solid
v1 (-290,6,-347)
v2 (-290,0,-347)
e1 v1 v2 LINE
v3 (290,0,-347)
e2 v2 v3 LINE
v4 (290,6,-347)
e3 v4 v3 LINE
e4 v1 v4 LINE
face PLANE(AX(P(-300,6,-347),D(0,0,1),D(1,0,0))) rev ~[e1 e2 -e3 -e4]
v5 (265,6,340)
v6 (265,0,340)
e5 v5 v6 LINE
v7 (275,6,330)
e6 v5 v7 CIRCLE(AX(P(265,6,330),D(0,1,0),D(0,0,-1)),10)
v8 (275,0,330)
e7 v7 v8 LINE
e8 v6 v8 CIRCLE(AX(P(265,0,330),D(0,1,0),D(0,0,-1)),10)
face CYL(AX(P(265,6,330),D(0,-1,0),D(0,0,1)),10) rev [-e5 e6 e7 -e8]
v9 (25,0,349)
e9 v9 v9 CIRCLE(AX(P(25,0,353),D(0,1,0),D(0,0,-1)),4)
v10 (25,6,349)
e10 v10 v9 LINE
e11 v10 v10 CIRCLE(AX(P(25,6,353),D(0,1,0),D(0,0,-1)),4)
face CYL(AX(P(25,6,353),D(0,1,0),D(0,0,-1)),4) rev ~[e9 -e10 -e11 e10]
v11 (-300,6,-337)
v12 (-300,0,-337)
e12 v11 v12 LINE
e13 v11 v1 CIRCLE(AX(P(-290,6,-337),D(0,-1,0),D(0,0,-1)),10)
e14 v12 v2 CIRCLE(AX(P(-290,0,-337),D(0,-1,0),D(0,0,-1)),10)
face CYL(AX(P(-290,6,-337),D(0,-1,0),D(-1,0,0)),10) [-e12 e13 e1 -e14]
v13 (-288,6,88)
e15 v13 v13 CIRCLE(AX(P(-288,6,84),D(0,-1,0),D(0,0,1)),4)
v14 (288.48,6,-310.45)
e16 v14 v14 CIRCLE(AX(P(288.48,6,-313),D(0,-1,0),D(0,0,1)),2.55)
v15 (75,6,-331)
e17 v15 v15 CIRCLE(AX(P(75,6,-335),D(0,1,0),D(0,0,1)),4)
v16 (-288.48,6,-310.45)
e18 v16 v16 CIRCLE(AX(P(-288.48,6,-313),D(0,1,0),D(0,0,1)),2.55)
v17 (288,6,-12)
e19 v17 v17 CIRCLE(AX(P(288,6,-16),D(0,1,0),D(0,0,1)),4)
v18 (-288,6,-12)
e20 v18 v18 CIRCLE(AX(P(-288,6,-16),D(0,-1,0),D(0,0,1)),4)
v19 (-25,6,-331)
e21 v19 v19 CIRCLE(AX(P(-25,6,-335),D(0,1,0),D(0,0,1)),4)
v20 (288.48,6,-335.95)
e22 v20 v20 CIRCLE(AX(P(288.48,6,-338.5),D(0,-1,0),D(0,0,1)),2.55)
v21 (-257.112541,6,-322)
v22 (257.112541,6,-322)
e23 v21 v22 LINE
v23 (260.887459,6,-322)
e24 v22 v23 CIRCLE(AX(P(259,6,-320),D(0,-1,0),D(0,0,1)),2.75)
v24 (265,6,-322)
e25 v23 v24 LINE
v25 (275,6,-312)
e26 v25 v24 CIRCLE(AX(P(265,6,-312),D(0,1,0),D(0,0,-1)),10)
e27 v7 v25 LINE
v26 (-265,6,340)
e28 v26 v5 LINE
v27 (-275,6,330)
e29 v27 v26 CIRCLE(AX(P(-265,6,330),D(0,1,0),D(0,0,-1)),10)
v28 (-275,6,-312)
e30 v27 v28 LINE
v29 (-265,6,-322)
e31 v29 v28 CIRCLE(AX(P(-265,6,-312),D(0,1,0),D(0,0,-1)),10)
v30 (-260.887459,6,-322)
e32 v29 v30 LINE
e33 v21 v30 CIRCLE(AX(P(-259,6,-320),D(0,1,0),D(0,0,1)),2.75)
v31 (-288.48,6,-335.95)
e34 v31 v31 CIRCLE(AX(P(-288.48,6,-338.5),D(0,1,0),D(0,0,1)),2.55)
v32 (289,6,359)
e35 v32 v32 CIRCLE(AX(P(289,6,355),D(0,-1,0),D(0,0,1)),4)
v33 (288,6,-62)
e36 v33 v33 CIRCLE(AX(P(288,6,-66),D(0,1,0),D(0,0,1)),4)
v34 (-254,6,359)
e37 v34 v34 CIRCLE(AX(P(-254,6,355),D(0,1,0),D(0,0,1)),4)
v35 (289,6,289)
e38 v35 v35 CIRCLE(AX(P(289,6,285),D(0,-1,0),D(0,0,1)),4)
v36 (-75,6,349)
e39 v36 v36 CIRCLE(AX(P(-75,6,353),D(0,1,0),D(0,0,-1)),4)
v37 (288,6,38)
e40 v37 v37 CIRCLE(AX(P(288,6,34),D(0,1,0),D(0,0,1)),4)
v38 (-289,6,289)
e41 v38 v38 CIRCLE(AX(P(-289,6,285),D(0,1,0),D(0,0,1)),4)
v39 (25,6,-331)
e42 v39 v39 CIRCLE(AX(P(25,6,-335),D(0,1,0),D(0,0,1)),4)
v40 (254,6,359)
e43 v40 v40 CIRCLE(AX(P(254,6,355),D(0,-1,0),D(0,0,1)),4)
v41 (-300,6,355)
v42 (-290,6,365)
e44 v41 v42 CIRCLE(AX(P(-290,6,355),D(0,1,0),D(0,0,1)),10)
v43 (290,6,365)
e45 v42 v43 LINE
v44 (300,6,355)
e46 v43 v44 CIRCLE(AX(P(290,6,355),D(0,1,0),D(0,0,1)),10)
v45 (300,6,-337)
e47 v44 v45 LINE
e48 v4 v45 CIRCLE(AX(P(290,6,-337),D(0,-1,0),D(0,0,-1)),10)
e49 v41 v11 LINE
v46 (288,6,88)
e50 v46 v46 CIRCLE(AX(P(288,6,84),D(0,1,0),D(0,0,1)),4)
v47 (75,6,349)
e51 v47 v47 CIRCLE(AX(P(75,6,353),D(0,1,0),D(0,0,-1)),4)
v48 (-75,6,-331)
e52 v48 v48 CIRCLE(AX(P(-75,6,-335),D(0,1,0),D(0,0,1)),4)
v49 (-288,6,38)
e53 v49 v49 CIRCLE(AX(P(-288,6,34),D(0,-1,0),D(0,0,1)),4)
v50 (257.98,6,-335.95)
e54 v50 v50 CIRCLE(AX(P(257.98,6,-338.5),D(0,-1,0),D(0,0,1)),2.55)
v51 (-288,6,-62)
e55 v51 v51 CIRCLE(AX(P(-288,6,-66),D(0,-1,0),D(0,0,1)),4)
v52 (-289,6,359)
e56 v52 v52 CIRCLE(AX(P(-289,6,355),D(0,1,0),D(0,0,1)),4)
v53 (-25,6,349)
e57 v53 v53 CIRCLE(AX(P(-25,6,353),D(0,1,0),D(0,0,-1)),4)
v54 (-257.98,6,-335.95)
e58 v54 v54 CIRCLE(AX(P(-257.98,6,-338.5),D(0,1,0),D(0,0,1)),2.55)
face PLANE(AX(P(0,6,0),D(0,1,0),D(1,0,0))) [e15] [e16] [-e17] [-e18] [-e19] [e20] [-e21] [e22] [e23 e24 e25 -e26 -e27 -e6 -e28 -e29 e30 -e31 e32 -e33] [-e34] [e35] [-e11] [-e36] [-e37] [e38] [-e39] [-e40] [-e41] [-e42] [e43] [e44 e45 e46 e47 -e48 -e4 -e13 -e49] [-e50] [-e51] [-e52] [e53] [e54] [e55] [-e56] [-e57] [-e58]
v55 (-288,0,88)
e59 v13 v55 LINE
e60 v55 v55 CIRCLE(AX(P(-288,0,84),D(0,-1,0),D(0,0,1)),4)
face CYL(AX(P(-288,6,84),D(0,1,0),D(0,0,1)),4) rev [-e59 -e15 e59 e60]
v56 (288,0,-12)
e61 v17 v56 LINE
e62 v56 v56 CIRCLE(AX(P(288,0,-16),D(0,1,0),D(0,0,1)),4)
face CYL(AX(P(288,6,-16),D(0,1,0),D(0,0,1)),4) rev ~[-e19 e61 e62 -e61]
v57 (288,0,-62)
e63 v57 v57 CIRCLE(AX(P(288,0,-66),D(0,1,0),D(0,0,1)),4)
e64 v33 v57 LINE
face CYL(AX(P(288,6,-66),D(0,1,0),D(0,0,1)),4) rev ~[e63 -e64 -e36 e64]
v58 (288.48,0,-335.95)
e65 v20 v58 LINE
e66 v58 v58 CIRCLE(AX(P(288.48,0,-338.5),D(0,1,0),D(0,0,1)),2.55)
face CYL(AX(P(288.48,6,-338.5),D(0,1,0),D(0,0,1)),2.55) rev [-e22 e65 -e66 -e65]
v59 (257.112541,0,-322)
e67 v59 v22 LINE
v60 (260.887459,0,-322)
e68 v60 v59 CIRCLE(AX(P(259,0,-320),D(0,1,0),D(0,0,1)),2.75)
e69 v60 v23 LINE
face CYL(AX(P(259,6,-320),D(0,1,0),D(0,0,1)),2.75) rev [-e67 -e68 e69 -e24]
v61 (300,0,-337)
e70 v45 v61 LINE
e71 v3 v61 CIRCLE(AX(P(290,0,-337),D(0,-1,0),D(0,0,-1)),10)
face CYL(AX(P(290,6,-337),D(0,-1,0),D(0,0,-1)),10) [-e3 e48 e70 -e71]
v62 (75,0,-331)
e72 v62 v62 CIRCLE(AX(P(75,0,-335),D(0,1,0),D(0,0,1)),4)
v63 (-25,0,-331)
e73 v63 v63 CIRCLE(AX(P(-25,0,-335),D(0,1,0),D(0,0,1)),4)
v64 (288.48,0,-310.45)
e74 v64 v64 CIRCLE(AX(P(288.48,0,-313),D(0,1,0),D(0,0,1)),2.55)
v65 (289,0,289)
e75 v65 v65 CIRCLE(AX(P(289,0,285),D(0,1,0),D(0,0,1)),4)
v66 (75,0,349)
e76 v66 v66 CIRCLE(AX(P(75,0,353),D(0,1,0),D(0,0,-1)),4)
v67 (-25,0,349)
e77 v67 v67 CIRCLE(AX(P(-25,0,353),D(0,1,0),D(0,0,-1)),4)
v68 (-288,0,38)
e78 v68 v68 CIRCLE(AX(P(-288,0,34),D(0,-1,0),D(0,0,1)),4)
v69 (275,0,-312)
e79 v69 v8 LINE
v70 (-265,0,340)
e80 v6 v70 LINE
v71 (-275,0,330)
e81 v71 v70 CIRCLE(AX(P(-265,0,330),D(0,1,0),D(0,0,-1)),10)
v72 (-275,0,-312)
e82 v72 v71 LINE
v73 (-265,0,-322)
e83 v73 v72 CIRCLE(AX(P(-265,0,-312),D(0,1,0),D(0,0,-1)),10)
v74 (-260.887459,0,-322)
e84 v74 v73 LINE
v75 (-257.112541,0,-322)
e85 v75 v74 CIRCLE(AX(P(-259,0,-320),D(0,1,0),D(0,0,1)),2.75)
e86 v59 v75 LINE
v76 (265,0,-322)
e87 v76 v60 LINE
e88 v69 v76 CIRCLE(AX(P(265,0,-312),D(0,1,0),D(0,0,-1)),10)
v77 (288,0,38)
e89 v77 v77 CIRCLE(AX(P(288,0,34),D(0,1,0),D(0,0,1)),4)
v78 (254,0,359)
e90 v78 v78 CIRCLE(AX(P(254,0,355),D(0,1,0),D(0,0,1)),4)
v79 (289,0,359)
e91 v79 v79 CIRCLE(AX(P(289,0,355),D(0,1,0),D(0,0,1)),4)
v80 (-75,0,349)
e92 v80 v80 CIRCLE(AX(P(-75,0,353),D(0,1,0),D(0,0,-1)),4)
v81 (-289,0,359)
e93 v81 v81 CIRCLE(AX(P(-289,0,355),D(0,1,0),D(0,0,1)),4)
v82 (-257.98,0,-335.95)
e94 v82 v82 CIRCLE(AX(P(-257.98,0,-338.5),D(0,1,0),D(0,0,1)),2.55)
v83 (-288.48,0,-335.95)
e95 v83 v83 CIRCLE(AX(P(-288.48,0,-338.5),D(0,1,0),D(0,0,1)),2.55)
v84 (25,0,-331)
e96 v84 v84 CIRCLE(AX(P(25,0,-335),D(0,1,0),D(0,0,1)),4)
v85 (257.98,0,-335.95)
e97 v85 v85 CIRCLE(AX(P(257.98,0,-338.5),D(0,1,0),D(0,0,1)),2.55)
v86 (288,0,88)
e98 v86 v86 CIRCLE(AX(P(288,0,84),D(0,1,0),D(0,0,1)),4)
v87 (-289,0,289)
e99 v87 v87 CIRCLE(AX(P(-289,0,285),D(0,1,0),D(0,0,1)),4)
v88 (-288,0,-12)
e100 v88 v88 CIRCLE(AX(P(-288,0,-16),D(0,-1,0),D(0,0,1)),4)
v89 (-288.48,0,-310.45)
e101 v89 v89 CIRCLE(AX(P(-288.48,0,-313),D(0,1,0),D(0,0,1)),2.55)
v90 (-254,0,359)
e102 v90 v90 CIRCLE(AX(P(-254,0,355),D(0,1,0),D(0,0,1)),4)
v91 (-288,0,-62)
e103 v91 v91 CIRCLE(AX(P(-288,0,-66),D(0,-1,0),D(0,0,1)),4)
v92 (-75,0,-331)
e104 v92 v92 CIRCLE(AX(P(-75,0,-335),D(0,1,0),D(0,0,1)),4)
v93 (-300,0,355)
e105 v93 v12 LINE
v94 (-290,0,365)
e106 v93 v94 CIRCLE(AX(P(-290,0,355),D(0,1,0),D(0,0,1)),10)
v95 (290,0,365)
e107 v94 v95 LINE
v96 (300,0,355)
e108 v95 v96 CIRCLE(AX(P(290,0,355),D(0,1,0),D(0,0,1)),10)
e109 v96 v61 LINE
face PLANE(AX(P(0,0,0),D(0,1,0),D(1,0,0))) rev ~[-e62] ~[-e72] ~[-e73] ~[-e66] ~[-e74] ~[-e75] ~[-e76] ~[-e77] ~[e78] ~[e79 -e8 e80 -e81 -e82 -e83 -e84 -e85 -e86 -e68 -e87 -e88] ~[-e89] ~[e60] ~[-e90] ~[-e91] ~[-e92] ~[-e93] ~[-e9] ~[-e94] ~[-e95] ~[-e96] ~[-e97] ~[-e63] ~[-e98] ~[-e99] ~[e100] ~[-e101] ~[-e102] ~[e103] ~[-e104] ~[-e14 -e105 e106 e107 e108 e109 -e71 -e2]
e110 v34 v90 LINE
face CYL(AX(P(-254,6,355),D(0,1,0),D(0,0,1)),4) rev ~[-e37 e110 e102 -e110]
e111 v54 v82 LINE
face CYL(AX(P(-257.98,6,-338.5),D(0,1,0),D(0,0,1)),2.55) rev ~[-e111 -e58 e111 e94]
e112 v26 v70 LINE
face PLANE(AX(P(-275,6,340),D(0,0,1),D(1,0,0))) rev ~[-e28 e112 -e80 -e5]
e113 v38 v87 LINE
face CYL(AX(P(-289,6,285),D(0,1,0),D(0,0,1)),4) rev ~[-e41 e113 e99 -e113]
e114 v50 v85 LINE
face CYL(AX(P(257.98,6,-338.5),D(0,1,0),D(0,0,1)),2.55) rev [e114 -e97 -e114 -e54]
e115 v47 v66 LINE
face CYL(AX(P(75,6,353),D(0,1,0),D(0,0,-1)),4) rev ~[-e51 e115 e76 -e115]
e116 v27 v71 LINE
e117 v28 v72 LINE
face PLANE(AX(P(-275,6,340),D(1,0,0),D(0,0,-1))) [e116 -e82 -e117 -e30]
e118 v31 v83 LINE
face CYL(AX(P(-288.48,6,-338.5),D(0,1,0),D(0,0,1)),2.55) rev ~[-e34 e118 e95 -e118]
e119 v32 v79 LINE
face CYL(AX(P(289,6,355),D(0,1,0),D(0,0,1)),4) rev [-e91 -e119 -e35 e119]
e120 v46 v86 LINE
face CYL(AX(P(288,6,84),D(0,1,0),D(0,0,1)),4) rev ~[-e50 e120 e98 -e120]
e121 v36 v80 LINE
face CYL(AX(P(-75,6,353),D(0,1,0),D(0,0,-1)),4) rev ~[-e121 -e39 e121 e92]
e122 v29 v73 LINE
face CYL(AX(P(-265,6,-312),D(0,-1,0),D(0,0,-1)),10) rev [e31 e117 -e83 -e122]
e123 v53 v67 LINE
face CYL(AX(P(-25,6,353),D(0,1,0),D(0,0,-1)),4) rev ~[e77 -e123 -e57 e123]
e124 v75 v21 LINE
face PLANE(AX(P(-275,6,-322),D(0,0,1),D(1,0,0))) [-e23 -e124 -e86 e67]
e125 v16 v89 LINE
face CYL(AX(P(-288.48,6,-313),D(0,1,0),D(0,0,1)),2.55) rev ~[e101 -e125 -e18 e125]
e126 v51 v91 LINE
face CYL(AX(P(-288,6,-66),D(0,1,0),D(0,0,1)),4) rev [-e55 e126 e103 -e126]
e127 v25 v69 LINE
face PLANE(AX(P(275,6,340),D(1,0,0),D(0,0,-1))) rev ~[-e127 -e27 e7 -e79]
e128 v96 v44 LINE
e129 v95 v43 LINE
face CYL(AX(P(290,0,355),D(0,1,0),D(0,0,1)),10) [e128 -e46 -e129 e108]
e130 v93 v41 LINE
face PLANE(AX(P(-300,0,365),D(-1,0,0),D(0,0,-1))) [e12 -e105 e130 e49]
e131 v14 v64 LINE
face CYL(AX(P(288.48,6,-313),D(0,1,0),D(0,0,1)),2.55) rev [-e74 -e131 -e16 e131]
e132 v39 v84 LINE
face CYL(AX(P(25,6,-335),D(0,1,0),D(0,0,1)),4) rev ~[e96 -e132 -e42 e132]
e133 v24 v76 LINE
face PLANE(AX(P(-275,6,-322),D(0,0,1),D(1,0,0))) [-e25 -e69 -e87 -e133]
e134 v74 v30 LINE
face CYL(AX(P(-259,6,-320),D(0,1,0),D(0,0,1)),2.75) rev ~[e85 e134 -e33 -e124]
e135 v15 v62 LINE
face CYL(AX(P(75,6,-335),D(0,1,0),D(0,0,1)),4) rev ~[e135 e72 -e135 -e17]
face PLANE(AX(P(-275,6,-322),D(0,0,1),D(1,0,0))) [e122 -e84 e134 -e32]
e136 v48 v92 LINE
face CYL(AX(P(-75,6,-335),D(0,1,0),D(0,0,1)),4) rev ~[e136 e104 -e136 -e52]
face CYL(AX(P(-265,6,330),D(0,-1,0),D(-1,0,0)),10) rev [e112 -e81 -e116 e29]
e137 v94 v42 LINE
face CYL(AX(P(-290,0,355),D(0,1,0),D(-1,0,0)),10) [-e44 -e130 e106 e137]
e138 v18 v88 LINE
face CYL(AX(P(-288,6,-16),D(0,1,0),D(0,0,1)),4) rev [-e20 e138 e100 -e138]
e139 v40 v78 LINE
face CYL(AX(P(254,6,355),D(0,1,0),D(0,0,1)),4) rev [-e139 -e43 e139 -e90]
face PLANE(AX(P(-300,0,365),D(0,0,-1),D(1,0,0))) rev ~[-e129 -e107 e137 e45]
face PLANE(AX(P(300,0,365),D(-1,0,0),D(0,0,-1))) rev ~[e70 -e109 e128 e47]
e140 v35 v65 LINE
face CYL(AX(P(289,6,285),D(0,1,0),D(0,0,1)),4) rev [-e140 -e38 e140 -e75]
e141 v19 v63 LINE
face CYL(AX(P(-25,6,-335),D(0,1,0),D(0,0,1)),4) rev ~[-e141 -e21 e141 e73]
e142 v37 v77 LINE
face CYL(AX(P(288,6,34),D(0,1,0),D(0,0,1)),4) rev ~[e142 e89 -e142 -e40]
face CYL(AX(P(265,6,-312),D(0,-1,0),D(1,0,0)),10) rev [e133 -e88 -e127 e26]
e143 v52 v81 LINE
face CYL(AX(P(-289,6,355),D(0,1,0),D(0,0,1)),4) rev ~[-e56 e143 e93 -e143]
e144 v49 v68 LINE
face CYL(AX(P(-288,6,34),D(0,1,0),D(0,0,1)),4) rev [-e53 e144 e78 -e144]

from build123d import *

# Parameters (mm, degrees)
SKETCH1_W                = 600
SKETCH1_H                = 730
BOSS_EXTRUDE1_DEPTH      = 6
SKETCH2_R                = 2.75
CUT_EXTRUDE1_DEPTH       = 473.505026428
LPATTERN1_COUNT          = 25
LPATTERN1_PITCH          = 25
MIRROR2_COPY_1_SKETCH_R  = 2.75
MIRROR2_COPY_1_DEPTH     = 473.505026428
MIRROR2_COPY_2_SKETCH_R  = 2.75
MIRROR2_COPY_2_DEPTH     = 473.505026428
MIRROR2_COPY_3_SKETCH_R  = 2.75
MIRROR2_COPY_3_DEPTH     = 473.505026428
MIRROR2_COPY_4_SKETCH_R  = 2.75
MIRROR2_COPY_4_DEPTH     = 473.505026428
MIRROR2_COPY_5_SKETCH_R  = 2.75
MIRROR2_COPY_5_DEPTH     = 473.505026428
MIRROR2_COPY_6_SKETCH_R  = 2.75
MIRROR2_COPY_6_DEPTH     = 473.505026428
MIRROR2_COPY_7_SKETCH_R  = 2.75
MIRROR2_COPY_7_DEPTH     = 473.505026428
MIRROR2_COPY_8_SKETCH_R  = 2.75
MIRROR2_COPY_8_DEPTH     = 473.505026428
MIRROR2_COPY_9_SKETCH_R  = 2.75
MIRROR2_COPY_9_DEPTH     = 473.505026428
MIRROR2_COPY_10_SKETCH_R = 2.75
MIRROR2_COPY_10_DEPTH    = 473.505026428
MIRROR2_COPY_11_SKETCH_R = 2.75
MIRROR2_COPY_11_DEPTH    = 473.505026428
MIRROR2_COPY_12_SKETCH_R = 2.75
MIRROR2_COPY_12_DEPTH    = 473.505026428
MIRROR2_COPY_13_SKETCH_R = 2.75
MIRROR2_COPY_13_DEPTH    = 473.505026428
MIRROR2_COPY_14_SKETCH_R = 2.75
MIRROR2_COPY_14_DEPTH    = 473.505026428
MIRROR2_COPY_15_SKETCH_R = 2.75
MIRROR2_COPY_15_DEPTH    = 473.505026428
MIRROR2_COPY_16_SKETCH_R = 2.75
MIRROR2_COPY_16_DEPTH    = 473.505026428
MIRROR2_COPY_17_SKETCH_R = 2.75
MIRROR2_COPY_17_DEPTH    = 473.505026428
MIRROR2_COPY_18_SKETCH_R = 2.75
MIRROR2_COPY_18_DEPTH    = 473.505026428
MIRROR2_COPY_19_SKETCH_R = 2.75
MIRROR2_COPY_19_DEPTH    = 473.505026428
MIRROR2_COPY_20_SKETCH_R = 2.75
MIRROR2_COPY_20_DEPTH    = 473.505026428
MIRROR2_COPY_21_SKETCH_R = 2.75
MIRROR2_COPY_21_DEPTH    = 473.505026428
MIRROR2_COPY_22_SKETCH_R = 2.75
MIRROR2_COPY_22_DEPTH    = 473.505026428
MIRROR2_COPY_23_SKETCH_R = 2.75
MIRROR2_COPY_23_DEPTH    = 473.505026428
MIRROR2_COPY_24_SKETCH_R = 2.75
MIRROR2_COPY_24_DEPTH    = 473.505026428
SKETCH3_R                = 4
CUT_EXTRUDE2_DEPTH       = 13
SKETCH5_R                = 2.55
CUT_EXTRUDE4_DEPTH       = 473.505026428
SKETCH6_W                = 600
SKETCH6_H                = 18
CUT_EXTRUDE5_DEPTH       = 6
CUT_EXTRUDE6_REACH       = 474.505
SKETCH7_R                = 4
CUT_EXTRUDE7_REACH       = 474.505
SKETCH8_R                = 4
CUT_EXTRUDE8_REACH       = 474.505
SKETCH9_W                = 550
SKETCH9_H                = 662
FILLET2_R                = 10


with BuildPart() as part:
    # Sketch1 → Boss-Extrude1 (new body)
    with BuildSketch(Plane(origin=(0, 0, 0), x_dir=(1, 0, 0), z_dir=(0, 1, 0))):
        Rectangle(SKETCH1_W, SKETCH1_H)
    extrude(amount=BOSS_EXTRUDE1_DEPTH)

    # Sketch2 → Cut-Extrude1 (cut, through all)
    with BuildSketch(Plane(origin=(0, 6, 0), x_dir=(1, 0, 0), z_dir=(0, 1, 0))):
        with Locations(Location((-259, 320, 0), (0, 0, 270))):
            Circle(SKETCH2_R)
    cut_extrude1 = extrude(amount=-CUT_EXTRUDE1_DEPTH, mode=Mode.SUBTRACT)

    # LPattern1: Cut-Extrude1 ×25
    with Locations(*[(0, 0, i * LPATTERN1_PITCH) for i in range(1, LPATTERN1_COUNT)]):
        add(cut_extrude1, mode=Mode.SUBTRACT)

    # Mirror2: Cut-Extrude1 across plane
    add(cut_extrude1.mirror(Plane(origin=(0, 0, 0), x_dir=(0, 0, 1), z_dir=(1, 0, 0))), mode=Mode.SUBTRACT)

    # Mirror2 copy 1 sketch → Mirror2 copy 1 (cut, through all)
    with BuildSketch(Plane(origin=(0, 6, 25), x_dir=(-1, 0, 0), z_dir=(0, 1, 0))):
        with Locations((-259, -320)):
            Circle(MIRROR2_COPY_1_SKETCH_R)
    extrude(amount=-MIRROR2_COPY_1_DEPTH, mode=Mode.SUBTRACT)

    # Mirror2 copy 2 sketch → Mirror2 copy 2 (cut, through all)
    with BuildSketch(Plane(origin=(0, 6, 50), x_dir=(-1, 0, 0), z_dir=(0, 1, 0))):
        with Locations((-259, -320)):
            Circle(MIRROR2_COPY_2_SKETCH_R)
    extrude(amount=-MIRROR2_COPY_2_DEPTH, mode=Mode.SUBTRACT)

    # Mirror2 copy 3 sketch → Mirror2 copy 3 (cut, through all)
    with BuildSketch(Plane(origin=(0, 6, 75), x_dir=(-1, 0, 0), z_dir=(0, 1, 0))):
        with Locations((-259, -320)):
            Circle(MIRROR2_COPY_3_SKETCH_R)
    extrude(amount=-MIRROR2_COPY_3_DEPTH, mode=Mode.SUBTRACT)

    # Mirror2 copy 4 sketch → Mirror2 copy 4 (cut, through all)
    with BuildSketch(Plane(origin=(0, 6, 100), x_dir=(-1, 0, 0), z_dir=(0, 1, 0))):
        with Locations((-259, -320)):
            Circle(MIRROR2_COPY_4_SKETCH_R)
    extrude(amount=-MIRROR2_COPY_4_DEPTH, mode=Mode.SUBTRACT)

    # Mirror2 copy 5 sketch → Mirror2 copy 5 (cut, through all)
    with BuildSketch(Plane(origin=(0, 6, 125), x_dir=(-1, 0, 0), z_dir=(0, 1, 0))):
        with Locations((-259, -320)):
            Circle(MIRROR2_COPY_5_SKETCH_R)
    extrude(amount=-MIRROR2_COPY_5_DEPTH, mode=Mode.SUBTRACT)

    # Mirror2 copy 6 sketch → Mirror2 copy 6 (cut, through all)
    with BuildSketch(Plane(origin=(0, 6, 150), x_dir=(-1, 0, 0), z_dir=(0, 1, 0))):
        with Locations((-259, -320)):
            Circle(MIRROR2_COPY_6_SKETCH_R)
    extrude(amount=-MIRROR2_COPY_6_DEPTH, mode=Mode.SUBTRACT)

    # Mirror2 copy 7 sketch → Mirror2 copy 7 (cut, through all)
    with BuildSketch(Plane(origin=(0, 6, 175), x_dir=(-1, 0, 0), z_dir=(0, 1, 0))):
        with Locations((-259, -320)):
            Circle(MIRROR2_COPY_7_SKETCH_R)
    extrude(amount=-MIRROR2_COPY_7_DEPTH, mode=Mode.SUBTRACT)

    # Mirror2 copy 8 sketch → Mirror2 copy 8 (cut, through all)
    with BuildSketch(Plane(origin=(0, 6, 200), x_dir=(-1, 0, 0), z_dir=(0, 1, 0))):
        with Locations((-259, -320)):
            Circle(MIRROR2_COPY_8_SKETCH_R)
    extrude(amount=-MIRROR2_COPY_8_DEPTH, mode=Mode.SUBTRACT)

    # Mirror2 copy 9 sketch → Mirror2 copy 9 (cut, through all)
    with BuildSketch(Plane(origin=(0, 6, 225), x_dir=(-1, 0, 0), z_dir=(0, 1, 0))):
        with Locations((-259, -320)):
            Circle(MIRROR2_COPY_9_SKETCH_R)
    extrude(amount=-MIRROR2_COPY_9_DEPTH, mode=Mode.SUBTRACT)

    # Mirror2 copy 10 sketch → Mirror2 copy 10 (cut, through all)
    with BuildSketch(Plane(origin=(0, 6, 250), x_dir=(-1, 0, 0), z_dir=(0, 1, 0))):
        with Locations((-259, -320)):
            Circle(MIRROR2_COPY_10_SKETCH_R)
    extrude(amount=-MIRROR2_COPY_10_DEPTH, mode=Mode.SUBTRACT)

    # Mirror2 copy 11 sketch → Mirror2 copy 11 (cut, through all)
    with BuildSketch(Plane(origin=(0, 6, 275), x_dir=(-1, 0, 0), z_dir=(0, 1, 0))):
        with Locations((-259, -320)):
            Circle(MIRROR2_COPY_11_SKETCH_R)
    extrude(amount=-MIRROR2_COPY_11_DEPTH, mode=Mode.SUBTRACT)

    # Mirror2 copy 12 sketch → Mirror2 copy 12 (cut, through all)
    with BuildSketch(Plane(origin=(0, 6, 300), x_dir=(-1, 0, 0), z_dir=(0, 1, 0))):
        with Locations((-259, -320)):
            Circle(MIRROR2_COPY_12_SKETCH_R)
    extrude(amount=-MIRROR2_COPY_12_DEPTH, mode=Mode.SUBTRACT)

    # Mirror2 copy 13 sketch → Mirror2 copy 13 (cut, through all)
    with BuildSketch(Plane(origin=(0, 6, 325), x_dir=(-1, 0, 0), z_dir=(0, 1, 0))):
        with Locations((-259, -320)):
            Circle(MIRROR2_COPY_13_SKETCH_R)
    extrude(amount=-MIRROR2_COPY_13_DEPTH, mode=Mode.SUBTRACT)

    # Mirror2 copy 14 sketch → Mirror2 copy 14 (cut, through all)
    with BuildSketch(Plane(origin=(0, 6, 350), x_dir=(-1, 0, 0), z_dir=(0, 1, 0))):
        with Locations((-259, -320)):
            Circle(MIRROR2_COPY_14_SKETCH_R)
    extrude(amount=-MIRROR2_COPY_14_DEPTH, mode=Mode.SUBTRACT)

    # Mirror2 copy 15 sketch → Mirror2 copy 15 (cut, through all)
    with BuildSketch(Plane(origin=(0, 6, 375), x_dir=(-1, 0, 0), z_dir=(0, 1, 0))):
        with Locations((-259, -320)):
            Circle(MIRROR2_COPY_15_SKETCH_R)
    extrude(amount=-MIRROR2_COPY_15_DEPTH, mode=Mode.SUBTRACT)

    # Mirror2 copy 16 sketch → Mirror2 copy 16 (cut, through all)
    with BuildSketch(Plane(origin=(0, 6, 400), x_dir=(-1, 0, 0), z_dir=(0, 1, 0))):
        with Locations((-259, -320)):
            Circle(MIRROR2_COPY_16_SKETCH_R)
    extrude(amount=-MIRROR2_COPY_16_DEPTH, mode=Mode.SUBTRACT)

    # Mirror2 copy 17 sketch → Mirror2 copy 17 (cut, through all)
    with BuildSketch(Plane(origin=(0, 6, 425), x_dir=(-1, 0, 0), z_dir=(0, 1, 0))):
        with Locations((-259, -320)):
            Circle(MIRROR2_COPY_17_SKETCH_R)
    extrude(amount=-MIRROR2_COPY_17_DEPTH, mode=Mode.SUBTRACT)

    # Mirror2 copy 18 sketch → Mirror2 copy 18 (cut, through all)
    with BuildSketch(Plane(origin=(0, 6, 450), x_dir=(-1, 0, 0), z_dir=(0, 1, 0))):
        with Locations((-259, -320)):
            Circle(MIRROR2_COPY_18_SKETCH_R)
    extrude(amount=-MIRROR2_COPY_18_DEPTH, mode=Mode.SUBTRACT)

    # Mirror2 copy 19 sketch → Mirror2 copy 19 (cut, through all)
    with BuildSketch(Plane(origin=(0, 6, 475), x_dir=(-1, 0, 0), z_dir=(0, 1, 0))):
        with Locations((-259, -320)):
            Circle(MIRROR2_COPY_19_SKETCH_R)
    extrude(amount=-MIRROR2_COPY_19_DEPTH, mode=Mode.SUBTRACT)

    # Mirror2 copy 20 sketch → Mirror2 copy 20 (cut, through all)
    with BuildSketch(Plane(origin=(0, 6, 500), x_dir=(-1, 0, 0), z_dir=(0, 1, 0))):
        with Locations((-259, -320)):
            Circle(MIRROR2_COPY_20_SKETCH_R)
    extrude(amount=-MIRROR2_COPY_20_DEPTH, mode=Mode.SUBTRACT)

    # Mirror2 copy 21 sketch → Mirror2 copy 21 (cut, through all)
    with BuildSketch(Plane(origin=(0, 6, 525), x_dir=(-1, 0, 0), z_dir=(0, 1, 0))):
        with Locations((-259, -320)):
            Circle(MIRROR2_COPY_21_SKETCH_R)
    extrude(amount=-MIRROR2_COPY_21_DEPTH, mode=Mode.SUBTRACT)

    # Mirror2 copy 22 sketch → Mirror2 copy 22 (cut, through all)
    with BuildSketch(Plane(origin=(0, 6, 550), x_dir=(-1, 0, 0), z_dir=(0, 1, 0))):
        with Locations((-259, -320)):
            Circle(MIRROR2_COPY_22_SKETCH_R)
    extrude(amount=-MIRROR2_COPY_22_DEPTH, mode=Mode.SUBTRACT)

    # Mirror2 copy 23 sketch → Mirror2 copy 23 (cut, through all)
    with BuildSketch(Plane(origin=(0, 6, 575), x_dir=(-1, 0, 0), z_dir=(0, 1, 0))):
        with Locations((-259, -320)):
            Circle(MIRROR2_COPY_23_SKETCH_R)
    extrude(amount=-MIRROR2_COPY_23_DEPTH, mode=Mode.SUBTRACT)

    # Mirror2 copy 24 sketch → Mirror2 copy 24 (cut, through all)
    with BuildSketch(Plane(origin=(0, 6, 600), x_dir=(-1, 0, 0), z_dir=(0, 1, 0))):
        with Locations((-259, -320)):
            Circle(MIRROR2_COPY_24_SKETCH_R)
    extrude(amount=-MIRROR2_COPY_24_DEPTH, mode=Mode.SUBTRACT)

    # Sketch3 → Cut-Extrude2 (cut)
    with BuildSketch(Plane(origin=(0, 6, 0), x_dir=(1, 0, 0), z_dir=(0, 1, 0))):
        with Locations(Location((-289, -285, 0), (0, 0, 270))):
            Circle(SKETCH3_R)
        with Locations(Location((-254, -355, 0), (0, 0, 270))):
            Circle(SKETCH3_R)
        with Locations(Location((-289, -355, 0), (0, 0, 270))):
            Circle(SKETCH3_R)
        with Locations(Location((-236.98, -302.5, 0), (0, 0, 270))):
            Circle(SKETCH3_R)
    cut_extrude2 = extrude(amount=-CUT_EXTRUDE2_DEPTH, mode=Mode.SUBTRACT)

    # Mirror3: Cut-Extrude2 across plane
    add(cut_extrude2.mirror(Plane(origin=(0, 0, 0), x_dir=(0, 0, 1), z_dir=(1, 0, 0))), mode=Mode.SUBTRACT)

    # Sketch5 → Cut-Extrude4 (cut, through all)
    with BuildSketch(Plane(origin=(0, 6, 0), x_dir=(1, 0, 0), z_dir=(0, 1, 0))):
        with Locations(Location((-288.48, 313, 0), (0, 0, 270))):
            Circle(SKETCH5_R)
        with Locations(Location((-257.98, 338.5, 0), (0, 0, 270))):
            Circle(SKETCH5_R)
        with Locations(Location((-288.48, 338.5, 0), (0, 0, 270))):
            Circle(SKETCH5_R)
    cut_extrude4 = extrude(amount=-CUT_EXTRUDE4_DEPTH, mode=Mode.SUBTRACT)

    # Mirror5: Cut-Extrude4 across plane
    add(cut_extrude4.mirror(Plane(origin=(0, 0, 0), x_dir=(0, 0, 1), z_dir=(1, 0, 0))), mode=Mode.SUBTRACT)

    # Sketch6 → Cut-Extrude5 (cut)
    with BuildSketch(Plane(origin=(0, 6, 0), x_dir=(1, 0, 0), z_dir=(0, 1, 0))):
        with Locations((0, 356)):
            Rectangle(SKETCH6_W, SKETCH6_H)
    extrude(amount=-CUT_EXTRUDE5_DEPTH, mode=Mode.SUBTRACT)

    # Sketch7 → Cut-Extrude6 (cut, up to next)
    with BuildSketch(Plane(origin=(0, 6, 0), x_dir=(1, 0, 0), z_dir=(0, 1, 0)), mode=Mode.PRIVATE) as cut_extrude6_sk1:
        with Locations(Location((-75, 335, 0), (0, 0, 270))):
            Circle(SKETCH7_R)
    cut_extrude6_tool1 = extrude(cut_extrude6_sk1.sketch, amount=-CUT_EXTRUDE6_REACH, mode=Mode.PRIVATE) & part.part
    # Sketch7 → Cut-Extrude6 (cut, up to next)
    with BuildSketch(Plane(origin=(0, 6, 0), x_dir=(1, 0, 0), z_dir=(0, 1, 0)), mode=Mode.PRIVATE) as cut_extrude6_sk2:
        with Locations(Location((-25, 335, 0), (0, 0, 270))):
            Circle(SKETCH7_R)
    cut_extrude6_tool2 = extrude(cut_extrude6_sk2.sketch, amount=-CUT_EXTRUDE6_REACH, mode=Mode.PRIVATE) & part.part
    # Sketch7 → Cut-Extrude6 (cut, up to next)
    with BuildSketch(Plane(origin=(0, 6, 0), x_dir=(1, 0, 0), z_dir=(0, 1, 0)), mode=Mode.PRIVATE) as cut_extrude6_sk3:
        with Locations(Location((25, 335, 0), (0, 0, 270))):
            Circle(SKETCH7_R)
    cut_extrude6_tool3 = extrude(cut_extrude6_sk3.sketch, amount=-CUT_EXTRUDE6_REACH, mode=Mode.PRIVATE) & part.part
    # Sketch7 → Cut-Extrude6 (cut, up to next)
    with BuildSketch(Plane(origin=(0, 6, 0), x_dir=(1, 0, 0), z_dir=(0, 1, 0)), mode=Mode.PRIVATE) as cut_extrude6_sk4:
        with Locations(Location((75, 335, 0), (0, 0, 270))):
            Circle(SKETCH7_R)
    cut_extrude6_tool4 = extrude(cut_extrude6_sk4.sketch, amount=-CUT_EXTRUDE6_REACH, mode=Mode.PRIVATE) & part.part
    # Sketch7 → Cut-Extrude6 (cut, up to next)
    with BuildSketch(Plane(origin=(0, 6, 0), x_dir=(1, 0, 0), z_dir=(0, 1, 0)), mode=Mode.PRIVATE) as cut_extrude6_sk5:
        with Locations(Location((75, -353, 0), (0, 0, 90))):
            Circle(SKETCH7_R)
    cut_extrude6_tool5 = extrude(cut_extrude6_sk5.sketch, amount=-CUT_EXTRUDE6_REACH, mode=Mode.PRIVATE) & part.part
    # Sketch7 → Cut-Extrude6 (cut, up to next)
    with BuildSketch(Plane(origin=(0, 6, 0), x_dir=(1, 0, 0), z_dir=(0, 1, 0)), mode=Mode.PRIVATE) as cut_extrude6_sk6:
        with Locations(Location((25, -353, 0), (0, 0, 90))):
            Circle(SKETCH7_R)
    cut_extrude6_tool6 = extrude(cut_extrude6_sk6.sketch, amount=-CUT_EXTRUDE6_REACH, mode=Mode.PRIVATE) & part.part
    # Sketch7 → Cut-Extrude6 (cut, up to next)
    with BuildSketch(Plane(origin=(0, 6, 0), x_dir=(1, 0, 0), z_dir=(0, 1, 0)), mode=Mode.PRIVATE) as cut_extrude6_sk7:
        with Locations(Location((-25, -353, 0), (0, 0, 90))):
            Circle(SKETCH7_R)
    cut_extrude6_tool7 = extrude(cut_extrude6_sk7.sketch, amount=-CUT_EXTRUDE6_REACH, mode=Mode.PRIVATE) & part.part
    # Sketch7 → Cut-Extrude6 (cut, up to next)
    with BuildSketch(Plane(origin=(0, 6, 0), x_dir=(1, 0, 0), z_dir=(0, 1, 0)), mode=Mode.PRIVATE) as cut_extrude6_sk8:
        with Locations(Location((-75, -353, 0), (0, 0, 90))):
            Circle(SKETCH7_R)
    cut_extrude6_tool8 = extrude(cut_extrude6_sk8.sketch, amount=-CUT_EXTRUDE6_REACH, mode=Mode.PRIVATE) & part.part
    add(cut_extrude6_tool1.solids().sort_by_distance((-75, 6, -335))[0], mode=Mode.SUBTRACT)
    add(cut_extrude6_tool2.solids().sort_by_distance((-25, 6, -335))[0], mode=Mode.SUBTRACT)
    add(cut_extrude6_tool3.solids().sort_by_distance((25, 6, -335))[0], mode=Mode.SUBTRACT)
    add(cut_extrude6_tool4.solids().sort_by_distance((75, 6, -335))[0], mode=Mode.SUBTRACT)
    add(cut_extrude6_tool5.solids().sort_by_distance((75, 6, 353))[0], mode=Mode.SUBTRACT)
    add(cut_extrude6_tool6.solids().sort_by_distance((25, 6, 353))[0], mode=Mode.SUBTRACT)
    add(cut_extrude6_tool7.solids().sort_by_distance((-25, 6, 353))[0], mode=Mode.SUBTRACT)
    add(cut_extrude6_tool8.solids().sort_by_distance((-75, 6, 353))[0], mode=Mode.SUBTRACT)

    # Sketch8 → Cut-Extrude7 (cut, up to next)
    with BuildSketch(Plane(origin=(0, 6, 0), x_dir=(1, 0, 0), z_dir=(0, 1, 0)), mode=Mode.PRIVATE) as cut_extrude7_sk1:
        with Locations(Location((288, 66, 0), (0, 0, 270))):
            Circle(SKETCH8_R)
    cut_extrude7_tool1 = extrude(cut_extrude7_sk1.sketch, amount=-CUT_EXTRUDE7_REACH, mode=Mode.PRIVATE) & part.part
    # Sketch8 → Cut-Extrude7 (cut, up to next)
    with BuildSketch(Plane(origin=(0, 6, 0), x_dir=(1, 0, 0), z_dir=(0, 1, 0)), mode=Mode.PRIVATE) as cut_extrude7_sk2:
        with Locations(Location((288, 16, 0), (0, 0, 270))):
            Circle(SKETCH8_R)
    cut_extrude7_tool2 = extrude(cut_extrude7_sk2.sketch, amount=-CUT_EXTRUDE7_REACH, mode=Mode.PRIVATE) & part.part
    # Sketch8 → Cut-Extrude7 (cut, up to next)
    with BuildSketch(Plane(origin=(0, 6, 0), x_dir=(1, 0, 0), z_dir=(0, 1, 0)), mode=Mode.PRIVATE) as cut_extrude7_sk3:
        with Locations(Location((288, -34, 0), (0, 0, 270))):
            Circle(SKETCH8_R)
    cut_extrude7_tool3 = extrude(cut_extrude7_sk3.sketch, amount=-CUT_EXTRUDE7_REACH, mode=Mode.PRIVATE) & part.part
    # Sketch8 → Cut-Extrude7 (cut, up to next)
    with BuildSketch(Plane(origin=(0, 6, 0), x_dir=(1, 0, 0), z_dir=(0, 1, 0)), mode=Mode.PRIVATE) as cut_extrude7_sk4:
        with Locations(Location((288, -84, 0), (0, 0, 270))):
            Circle(SKETCH8_R)
    cut_extrude7_tool4 = extrude(cut_extrude7_sk4.sketch, amount=-CUT_EXTRUDE7_REACH, mode=Mode.PRIVATE) & part.part
    cut_extrude7_1 = cut_extrude7_tool1.solids().sort_by_distance((288, 6, -66))[0]
    add(cut_extrude7_1, mode=Mode.SUBTRACT)
    cut_extrude7_2 = cut_extrude7_tool2.solids().sort_by_distance((288, 6, -16))[0]
    add(cut_extrude7_2, mode=Mode.SUBTRACT)
    cut_extrude7_3 = cut_extrude7_tool3.solids().sort_by_distance((288, 6, 34))[0]
    add(cut_extrude7_3, mode=Mode.SUBTRACT)
    cut_extrude7_4 = cut_extrude7_tool4.solids().sort_by_distance((288, 6, 84))[0]
    add(cut_extrude7_4, mode=Mode.SUBTRACT)
    cut_extrude7 = cut_extrude7_1 + cut_extrude7_2 + cut_extrude7_3 + cut_extrude7_4  # Cut-Extrude7 as one shape, for the pattern or mirror that repeats it

    # Mirror6: Cut-Extrude7 across plane
    add(cut_extrude7.mirror(Plane(origin=(0, 0, 0), x_dir=(0, 0, 1), z_dir=(1, 0, 0))), mode=Mode.SUBTRACT)

    # Sketch9 → Cut-Extrude8 (cut, up to next)
    with BuildSketch(Plane(origin=(0, 6, 0), x_dir=(1, 0, 0), z_dir=(0, 1, 0)), mode=Mode.PRIVATE) as cut_extrude8_sk1:
        with Locations((0, -9)):
            Rectangle(SKETCH9_W, SKETCH9_H)
    cut_extrude8_tool1 = extrude(cut_extrude8_sk1.sketch, amount=-CUT_EXTRUDE8_REACH, mode=Mode.PRIVATE) & part.part
    add(cut_extrude8_tool1.solids().sort_by_distance((0, 6, 9))[0], mode=Mode.SUBTRACT)

    # Fillet2
    fillet2_edges = [part.edges().sort_by_distance(p)[0] for p in [
        (-300, 3, -347),
        (300, 3, -347),
        (-275, 3, -322),
        (275, 3, -322),
        (275, 3, 340),
        (-275, 3, 340),
        (300, 3, 365),
        (-300, 3, 365),
    ]]
    fillet(fillet2_edges, radius=FILLET2_R)


solid = part.part
